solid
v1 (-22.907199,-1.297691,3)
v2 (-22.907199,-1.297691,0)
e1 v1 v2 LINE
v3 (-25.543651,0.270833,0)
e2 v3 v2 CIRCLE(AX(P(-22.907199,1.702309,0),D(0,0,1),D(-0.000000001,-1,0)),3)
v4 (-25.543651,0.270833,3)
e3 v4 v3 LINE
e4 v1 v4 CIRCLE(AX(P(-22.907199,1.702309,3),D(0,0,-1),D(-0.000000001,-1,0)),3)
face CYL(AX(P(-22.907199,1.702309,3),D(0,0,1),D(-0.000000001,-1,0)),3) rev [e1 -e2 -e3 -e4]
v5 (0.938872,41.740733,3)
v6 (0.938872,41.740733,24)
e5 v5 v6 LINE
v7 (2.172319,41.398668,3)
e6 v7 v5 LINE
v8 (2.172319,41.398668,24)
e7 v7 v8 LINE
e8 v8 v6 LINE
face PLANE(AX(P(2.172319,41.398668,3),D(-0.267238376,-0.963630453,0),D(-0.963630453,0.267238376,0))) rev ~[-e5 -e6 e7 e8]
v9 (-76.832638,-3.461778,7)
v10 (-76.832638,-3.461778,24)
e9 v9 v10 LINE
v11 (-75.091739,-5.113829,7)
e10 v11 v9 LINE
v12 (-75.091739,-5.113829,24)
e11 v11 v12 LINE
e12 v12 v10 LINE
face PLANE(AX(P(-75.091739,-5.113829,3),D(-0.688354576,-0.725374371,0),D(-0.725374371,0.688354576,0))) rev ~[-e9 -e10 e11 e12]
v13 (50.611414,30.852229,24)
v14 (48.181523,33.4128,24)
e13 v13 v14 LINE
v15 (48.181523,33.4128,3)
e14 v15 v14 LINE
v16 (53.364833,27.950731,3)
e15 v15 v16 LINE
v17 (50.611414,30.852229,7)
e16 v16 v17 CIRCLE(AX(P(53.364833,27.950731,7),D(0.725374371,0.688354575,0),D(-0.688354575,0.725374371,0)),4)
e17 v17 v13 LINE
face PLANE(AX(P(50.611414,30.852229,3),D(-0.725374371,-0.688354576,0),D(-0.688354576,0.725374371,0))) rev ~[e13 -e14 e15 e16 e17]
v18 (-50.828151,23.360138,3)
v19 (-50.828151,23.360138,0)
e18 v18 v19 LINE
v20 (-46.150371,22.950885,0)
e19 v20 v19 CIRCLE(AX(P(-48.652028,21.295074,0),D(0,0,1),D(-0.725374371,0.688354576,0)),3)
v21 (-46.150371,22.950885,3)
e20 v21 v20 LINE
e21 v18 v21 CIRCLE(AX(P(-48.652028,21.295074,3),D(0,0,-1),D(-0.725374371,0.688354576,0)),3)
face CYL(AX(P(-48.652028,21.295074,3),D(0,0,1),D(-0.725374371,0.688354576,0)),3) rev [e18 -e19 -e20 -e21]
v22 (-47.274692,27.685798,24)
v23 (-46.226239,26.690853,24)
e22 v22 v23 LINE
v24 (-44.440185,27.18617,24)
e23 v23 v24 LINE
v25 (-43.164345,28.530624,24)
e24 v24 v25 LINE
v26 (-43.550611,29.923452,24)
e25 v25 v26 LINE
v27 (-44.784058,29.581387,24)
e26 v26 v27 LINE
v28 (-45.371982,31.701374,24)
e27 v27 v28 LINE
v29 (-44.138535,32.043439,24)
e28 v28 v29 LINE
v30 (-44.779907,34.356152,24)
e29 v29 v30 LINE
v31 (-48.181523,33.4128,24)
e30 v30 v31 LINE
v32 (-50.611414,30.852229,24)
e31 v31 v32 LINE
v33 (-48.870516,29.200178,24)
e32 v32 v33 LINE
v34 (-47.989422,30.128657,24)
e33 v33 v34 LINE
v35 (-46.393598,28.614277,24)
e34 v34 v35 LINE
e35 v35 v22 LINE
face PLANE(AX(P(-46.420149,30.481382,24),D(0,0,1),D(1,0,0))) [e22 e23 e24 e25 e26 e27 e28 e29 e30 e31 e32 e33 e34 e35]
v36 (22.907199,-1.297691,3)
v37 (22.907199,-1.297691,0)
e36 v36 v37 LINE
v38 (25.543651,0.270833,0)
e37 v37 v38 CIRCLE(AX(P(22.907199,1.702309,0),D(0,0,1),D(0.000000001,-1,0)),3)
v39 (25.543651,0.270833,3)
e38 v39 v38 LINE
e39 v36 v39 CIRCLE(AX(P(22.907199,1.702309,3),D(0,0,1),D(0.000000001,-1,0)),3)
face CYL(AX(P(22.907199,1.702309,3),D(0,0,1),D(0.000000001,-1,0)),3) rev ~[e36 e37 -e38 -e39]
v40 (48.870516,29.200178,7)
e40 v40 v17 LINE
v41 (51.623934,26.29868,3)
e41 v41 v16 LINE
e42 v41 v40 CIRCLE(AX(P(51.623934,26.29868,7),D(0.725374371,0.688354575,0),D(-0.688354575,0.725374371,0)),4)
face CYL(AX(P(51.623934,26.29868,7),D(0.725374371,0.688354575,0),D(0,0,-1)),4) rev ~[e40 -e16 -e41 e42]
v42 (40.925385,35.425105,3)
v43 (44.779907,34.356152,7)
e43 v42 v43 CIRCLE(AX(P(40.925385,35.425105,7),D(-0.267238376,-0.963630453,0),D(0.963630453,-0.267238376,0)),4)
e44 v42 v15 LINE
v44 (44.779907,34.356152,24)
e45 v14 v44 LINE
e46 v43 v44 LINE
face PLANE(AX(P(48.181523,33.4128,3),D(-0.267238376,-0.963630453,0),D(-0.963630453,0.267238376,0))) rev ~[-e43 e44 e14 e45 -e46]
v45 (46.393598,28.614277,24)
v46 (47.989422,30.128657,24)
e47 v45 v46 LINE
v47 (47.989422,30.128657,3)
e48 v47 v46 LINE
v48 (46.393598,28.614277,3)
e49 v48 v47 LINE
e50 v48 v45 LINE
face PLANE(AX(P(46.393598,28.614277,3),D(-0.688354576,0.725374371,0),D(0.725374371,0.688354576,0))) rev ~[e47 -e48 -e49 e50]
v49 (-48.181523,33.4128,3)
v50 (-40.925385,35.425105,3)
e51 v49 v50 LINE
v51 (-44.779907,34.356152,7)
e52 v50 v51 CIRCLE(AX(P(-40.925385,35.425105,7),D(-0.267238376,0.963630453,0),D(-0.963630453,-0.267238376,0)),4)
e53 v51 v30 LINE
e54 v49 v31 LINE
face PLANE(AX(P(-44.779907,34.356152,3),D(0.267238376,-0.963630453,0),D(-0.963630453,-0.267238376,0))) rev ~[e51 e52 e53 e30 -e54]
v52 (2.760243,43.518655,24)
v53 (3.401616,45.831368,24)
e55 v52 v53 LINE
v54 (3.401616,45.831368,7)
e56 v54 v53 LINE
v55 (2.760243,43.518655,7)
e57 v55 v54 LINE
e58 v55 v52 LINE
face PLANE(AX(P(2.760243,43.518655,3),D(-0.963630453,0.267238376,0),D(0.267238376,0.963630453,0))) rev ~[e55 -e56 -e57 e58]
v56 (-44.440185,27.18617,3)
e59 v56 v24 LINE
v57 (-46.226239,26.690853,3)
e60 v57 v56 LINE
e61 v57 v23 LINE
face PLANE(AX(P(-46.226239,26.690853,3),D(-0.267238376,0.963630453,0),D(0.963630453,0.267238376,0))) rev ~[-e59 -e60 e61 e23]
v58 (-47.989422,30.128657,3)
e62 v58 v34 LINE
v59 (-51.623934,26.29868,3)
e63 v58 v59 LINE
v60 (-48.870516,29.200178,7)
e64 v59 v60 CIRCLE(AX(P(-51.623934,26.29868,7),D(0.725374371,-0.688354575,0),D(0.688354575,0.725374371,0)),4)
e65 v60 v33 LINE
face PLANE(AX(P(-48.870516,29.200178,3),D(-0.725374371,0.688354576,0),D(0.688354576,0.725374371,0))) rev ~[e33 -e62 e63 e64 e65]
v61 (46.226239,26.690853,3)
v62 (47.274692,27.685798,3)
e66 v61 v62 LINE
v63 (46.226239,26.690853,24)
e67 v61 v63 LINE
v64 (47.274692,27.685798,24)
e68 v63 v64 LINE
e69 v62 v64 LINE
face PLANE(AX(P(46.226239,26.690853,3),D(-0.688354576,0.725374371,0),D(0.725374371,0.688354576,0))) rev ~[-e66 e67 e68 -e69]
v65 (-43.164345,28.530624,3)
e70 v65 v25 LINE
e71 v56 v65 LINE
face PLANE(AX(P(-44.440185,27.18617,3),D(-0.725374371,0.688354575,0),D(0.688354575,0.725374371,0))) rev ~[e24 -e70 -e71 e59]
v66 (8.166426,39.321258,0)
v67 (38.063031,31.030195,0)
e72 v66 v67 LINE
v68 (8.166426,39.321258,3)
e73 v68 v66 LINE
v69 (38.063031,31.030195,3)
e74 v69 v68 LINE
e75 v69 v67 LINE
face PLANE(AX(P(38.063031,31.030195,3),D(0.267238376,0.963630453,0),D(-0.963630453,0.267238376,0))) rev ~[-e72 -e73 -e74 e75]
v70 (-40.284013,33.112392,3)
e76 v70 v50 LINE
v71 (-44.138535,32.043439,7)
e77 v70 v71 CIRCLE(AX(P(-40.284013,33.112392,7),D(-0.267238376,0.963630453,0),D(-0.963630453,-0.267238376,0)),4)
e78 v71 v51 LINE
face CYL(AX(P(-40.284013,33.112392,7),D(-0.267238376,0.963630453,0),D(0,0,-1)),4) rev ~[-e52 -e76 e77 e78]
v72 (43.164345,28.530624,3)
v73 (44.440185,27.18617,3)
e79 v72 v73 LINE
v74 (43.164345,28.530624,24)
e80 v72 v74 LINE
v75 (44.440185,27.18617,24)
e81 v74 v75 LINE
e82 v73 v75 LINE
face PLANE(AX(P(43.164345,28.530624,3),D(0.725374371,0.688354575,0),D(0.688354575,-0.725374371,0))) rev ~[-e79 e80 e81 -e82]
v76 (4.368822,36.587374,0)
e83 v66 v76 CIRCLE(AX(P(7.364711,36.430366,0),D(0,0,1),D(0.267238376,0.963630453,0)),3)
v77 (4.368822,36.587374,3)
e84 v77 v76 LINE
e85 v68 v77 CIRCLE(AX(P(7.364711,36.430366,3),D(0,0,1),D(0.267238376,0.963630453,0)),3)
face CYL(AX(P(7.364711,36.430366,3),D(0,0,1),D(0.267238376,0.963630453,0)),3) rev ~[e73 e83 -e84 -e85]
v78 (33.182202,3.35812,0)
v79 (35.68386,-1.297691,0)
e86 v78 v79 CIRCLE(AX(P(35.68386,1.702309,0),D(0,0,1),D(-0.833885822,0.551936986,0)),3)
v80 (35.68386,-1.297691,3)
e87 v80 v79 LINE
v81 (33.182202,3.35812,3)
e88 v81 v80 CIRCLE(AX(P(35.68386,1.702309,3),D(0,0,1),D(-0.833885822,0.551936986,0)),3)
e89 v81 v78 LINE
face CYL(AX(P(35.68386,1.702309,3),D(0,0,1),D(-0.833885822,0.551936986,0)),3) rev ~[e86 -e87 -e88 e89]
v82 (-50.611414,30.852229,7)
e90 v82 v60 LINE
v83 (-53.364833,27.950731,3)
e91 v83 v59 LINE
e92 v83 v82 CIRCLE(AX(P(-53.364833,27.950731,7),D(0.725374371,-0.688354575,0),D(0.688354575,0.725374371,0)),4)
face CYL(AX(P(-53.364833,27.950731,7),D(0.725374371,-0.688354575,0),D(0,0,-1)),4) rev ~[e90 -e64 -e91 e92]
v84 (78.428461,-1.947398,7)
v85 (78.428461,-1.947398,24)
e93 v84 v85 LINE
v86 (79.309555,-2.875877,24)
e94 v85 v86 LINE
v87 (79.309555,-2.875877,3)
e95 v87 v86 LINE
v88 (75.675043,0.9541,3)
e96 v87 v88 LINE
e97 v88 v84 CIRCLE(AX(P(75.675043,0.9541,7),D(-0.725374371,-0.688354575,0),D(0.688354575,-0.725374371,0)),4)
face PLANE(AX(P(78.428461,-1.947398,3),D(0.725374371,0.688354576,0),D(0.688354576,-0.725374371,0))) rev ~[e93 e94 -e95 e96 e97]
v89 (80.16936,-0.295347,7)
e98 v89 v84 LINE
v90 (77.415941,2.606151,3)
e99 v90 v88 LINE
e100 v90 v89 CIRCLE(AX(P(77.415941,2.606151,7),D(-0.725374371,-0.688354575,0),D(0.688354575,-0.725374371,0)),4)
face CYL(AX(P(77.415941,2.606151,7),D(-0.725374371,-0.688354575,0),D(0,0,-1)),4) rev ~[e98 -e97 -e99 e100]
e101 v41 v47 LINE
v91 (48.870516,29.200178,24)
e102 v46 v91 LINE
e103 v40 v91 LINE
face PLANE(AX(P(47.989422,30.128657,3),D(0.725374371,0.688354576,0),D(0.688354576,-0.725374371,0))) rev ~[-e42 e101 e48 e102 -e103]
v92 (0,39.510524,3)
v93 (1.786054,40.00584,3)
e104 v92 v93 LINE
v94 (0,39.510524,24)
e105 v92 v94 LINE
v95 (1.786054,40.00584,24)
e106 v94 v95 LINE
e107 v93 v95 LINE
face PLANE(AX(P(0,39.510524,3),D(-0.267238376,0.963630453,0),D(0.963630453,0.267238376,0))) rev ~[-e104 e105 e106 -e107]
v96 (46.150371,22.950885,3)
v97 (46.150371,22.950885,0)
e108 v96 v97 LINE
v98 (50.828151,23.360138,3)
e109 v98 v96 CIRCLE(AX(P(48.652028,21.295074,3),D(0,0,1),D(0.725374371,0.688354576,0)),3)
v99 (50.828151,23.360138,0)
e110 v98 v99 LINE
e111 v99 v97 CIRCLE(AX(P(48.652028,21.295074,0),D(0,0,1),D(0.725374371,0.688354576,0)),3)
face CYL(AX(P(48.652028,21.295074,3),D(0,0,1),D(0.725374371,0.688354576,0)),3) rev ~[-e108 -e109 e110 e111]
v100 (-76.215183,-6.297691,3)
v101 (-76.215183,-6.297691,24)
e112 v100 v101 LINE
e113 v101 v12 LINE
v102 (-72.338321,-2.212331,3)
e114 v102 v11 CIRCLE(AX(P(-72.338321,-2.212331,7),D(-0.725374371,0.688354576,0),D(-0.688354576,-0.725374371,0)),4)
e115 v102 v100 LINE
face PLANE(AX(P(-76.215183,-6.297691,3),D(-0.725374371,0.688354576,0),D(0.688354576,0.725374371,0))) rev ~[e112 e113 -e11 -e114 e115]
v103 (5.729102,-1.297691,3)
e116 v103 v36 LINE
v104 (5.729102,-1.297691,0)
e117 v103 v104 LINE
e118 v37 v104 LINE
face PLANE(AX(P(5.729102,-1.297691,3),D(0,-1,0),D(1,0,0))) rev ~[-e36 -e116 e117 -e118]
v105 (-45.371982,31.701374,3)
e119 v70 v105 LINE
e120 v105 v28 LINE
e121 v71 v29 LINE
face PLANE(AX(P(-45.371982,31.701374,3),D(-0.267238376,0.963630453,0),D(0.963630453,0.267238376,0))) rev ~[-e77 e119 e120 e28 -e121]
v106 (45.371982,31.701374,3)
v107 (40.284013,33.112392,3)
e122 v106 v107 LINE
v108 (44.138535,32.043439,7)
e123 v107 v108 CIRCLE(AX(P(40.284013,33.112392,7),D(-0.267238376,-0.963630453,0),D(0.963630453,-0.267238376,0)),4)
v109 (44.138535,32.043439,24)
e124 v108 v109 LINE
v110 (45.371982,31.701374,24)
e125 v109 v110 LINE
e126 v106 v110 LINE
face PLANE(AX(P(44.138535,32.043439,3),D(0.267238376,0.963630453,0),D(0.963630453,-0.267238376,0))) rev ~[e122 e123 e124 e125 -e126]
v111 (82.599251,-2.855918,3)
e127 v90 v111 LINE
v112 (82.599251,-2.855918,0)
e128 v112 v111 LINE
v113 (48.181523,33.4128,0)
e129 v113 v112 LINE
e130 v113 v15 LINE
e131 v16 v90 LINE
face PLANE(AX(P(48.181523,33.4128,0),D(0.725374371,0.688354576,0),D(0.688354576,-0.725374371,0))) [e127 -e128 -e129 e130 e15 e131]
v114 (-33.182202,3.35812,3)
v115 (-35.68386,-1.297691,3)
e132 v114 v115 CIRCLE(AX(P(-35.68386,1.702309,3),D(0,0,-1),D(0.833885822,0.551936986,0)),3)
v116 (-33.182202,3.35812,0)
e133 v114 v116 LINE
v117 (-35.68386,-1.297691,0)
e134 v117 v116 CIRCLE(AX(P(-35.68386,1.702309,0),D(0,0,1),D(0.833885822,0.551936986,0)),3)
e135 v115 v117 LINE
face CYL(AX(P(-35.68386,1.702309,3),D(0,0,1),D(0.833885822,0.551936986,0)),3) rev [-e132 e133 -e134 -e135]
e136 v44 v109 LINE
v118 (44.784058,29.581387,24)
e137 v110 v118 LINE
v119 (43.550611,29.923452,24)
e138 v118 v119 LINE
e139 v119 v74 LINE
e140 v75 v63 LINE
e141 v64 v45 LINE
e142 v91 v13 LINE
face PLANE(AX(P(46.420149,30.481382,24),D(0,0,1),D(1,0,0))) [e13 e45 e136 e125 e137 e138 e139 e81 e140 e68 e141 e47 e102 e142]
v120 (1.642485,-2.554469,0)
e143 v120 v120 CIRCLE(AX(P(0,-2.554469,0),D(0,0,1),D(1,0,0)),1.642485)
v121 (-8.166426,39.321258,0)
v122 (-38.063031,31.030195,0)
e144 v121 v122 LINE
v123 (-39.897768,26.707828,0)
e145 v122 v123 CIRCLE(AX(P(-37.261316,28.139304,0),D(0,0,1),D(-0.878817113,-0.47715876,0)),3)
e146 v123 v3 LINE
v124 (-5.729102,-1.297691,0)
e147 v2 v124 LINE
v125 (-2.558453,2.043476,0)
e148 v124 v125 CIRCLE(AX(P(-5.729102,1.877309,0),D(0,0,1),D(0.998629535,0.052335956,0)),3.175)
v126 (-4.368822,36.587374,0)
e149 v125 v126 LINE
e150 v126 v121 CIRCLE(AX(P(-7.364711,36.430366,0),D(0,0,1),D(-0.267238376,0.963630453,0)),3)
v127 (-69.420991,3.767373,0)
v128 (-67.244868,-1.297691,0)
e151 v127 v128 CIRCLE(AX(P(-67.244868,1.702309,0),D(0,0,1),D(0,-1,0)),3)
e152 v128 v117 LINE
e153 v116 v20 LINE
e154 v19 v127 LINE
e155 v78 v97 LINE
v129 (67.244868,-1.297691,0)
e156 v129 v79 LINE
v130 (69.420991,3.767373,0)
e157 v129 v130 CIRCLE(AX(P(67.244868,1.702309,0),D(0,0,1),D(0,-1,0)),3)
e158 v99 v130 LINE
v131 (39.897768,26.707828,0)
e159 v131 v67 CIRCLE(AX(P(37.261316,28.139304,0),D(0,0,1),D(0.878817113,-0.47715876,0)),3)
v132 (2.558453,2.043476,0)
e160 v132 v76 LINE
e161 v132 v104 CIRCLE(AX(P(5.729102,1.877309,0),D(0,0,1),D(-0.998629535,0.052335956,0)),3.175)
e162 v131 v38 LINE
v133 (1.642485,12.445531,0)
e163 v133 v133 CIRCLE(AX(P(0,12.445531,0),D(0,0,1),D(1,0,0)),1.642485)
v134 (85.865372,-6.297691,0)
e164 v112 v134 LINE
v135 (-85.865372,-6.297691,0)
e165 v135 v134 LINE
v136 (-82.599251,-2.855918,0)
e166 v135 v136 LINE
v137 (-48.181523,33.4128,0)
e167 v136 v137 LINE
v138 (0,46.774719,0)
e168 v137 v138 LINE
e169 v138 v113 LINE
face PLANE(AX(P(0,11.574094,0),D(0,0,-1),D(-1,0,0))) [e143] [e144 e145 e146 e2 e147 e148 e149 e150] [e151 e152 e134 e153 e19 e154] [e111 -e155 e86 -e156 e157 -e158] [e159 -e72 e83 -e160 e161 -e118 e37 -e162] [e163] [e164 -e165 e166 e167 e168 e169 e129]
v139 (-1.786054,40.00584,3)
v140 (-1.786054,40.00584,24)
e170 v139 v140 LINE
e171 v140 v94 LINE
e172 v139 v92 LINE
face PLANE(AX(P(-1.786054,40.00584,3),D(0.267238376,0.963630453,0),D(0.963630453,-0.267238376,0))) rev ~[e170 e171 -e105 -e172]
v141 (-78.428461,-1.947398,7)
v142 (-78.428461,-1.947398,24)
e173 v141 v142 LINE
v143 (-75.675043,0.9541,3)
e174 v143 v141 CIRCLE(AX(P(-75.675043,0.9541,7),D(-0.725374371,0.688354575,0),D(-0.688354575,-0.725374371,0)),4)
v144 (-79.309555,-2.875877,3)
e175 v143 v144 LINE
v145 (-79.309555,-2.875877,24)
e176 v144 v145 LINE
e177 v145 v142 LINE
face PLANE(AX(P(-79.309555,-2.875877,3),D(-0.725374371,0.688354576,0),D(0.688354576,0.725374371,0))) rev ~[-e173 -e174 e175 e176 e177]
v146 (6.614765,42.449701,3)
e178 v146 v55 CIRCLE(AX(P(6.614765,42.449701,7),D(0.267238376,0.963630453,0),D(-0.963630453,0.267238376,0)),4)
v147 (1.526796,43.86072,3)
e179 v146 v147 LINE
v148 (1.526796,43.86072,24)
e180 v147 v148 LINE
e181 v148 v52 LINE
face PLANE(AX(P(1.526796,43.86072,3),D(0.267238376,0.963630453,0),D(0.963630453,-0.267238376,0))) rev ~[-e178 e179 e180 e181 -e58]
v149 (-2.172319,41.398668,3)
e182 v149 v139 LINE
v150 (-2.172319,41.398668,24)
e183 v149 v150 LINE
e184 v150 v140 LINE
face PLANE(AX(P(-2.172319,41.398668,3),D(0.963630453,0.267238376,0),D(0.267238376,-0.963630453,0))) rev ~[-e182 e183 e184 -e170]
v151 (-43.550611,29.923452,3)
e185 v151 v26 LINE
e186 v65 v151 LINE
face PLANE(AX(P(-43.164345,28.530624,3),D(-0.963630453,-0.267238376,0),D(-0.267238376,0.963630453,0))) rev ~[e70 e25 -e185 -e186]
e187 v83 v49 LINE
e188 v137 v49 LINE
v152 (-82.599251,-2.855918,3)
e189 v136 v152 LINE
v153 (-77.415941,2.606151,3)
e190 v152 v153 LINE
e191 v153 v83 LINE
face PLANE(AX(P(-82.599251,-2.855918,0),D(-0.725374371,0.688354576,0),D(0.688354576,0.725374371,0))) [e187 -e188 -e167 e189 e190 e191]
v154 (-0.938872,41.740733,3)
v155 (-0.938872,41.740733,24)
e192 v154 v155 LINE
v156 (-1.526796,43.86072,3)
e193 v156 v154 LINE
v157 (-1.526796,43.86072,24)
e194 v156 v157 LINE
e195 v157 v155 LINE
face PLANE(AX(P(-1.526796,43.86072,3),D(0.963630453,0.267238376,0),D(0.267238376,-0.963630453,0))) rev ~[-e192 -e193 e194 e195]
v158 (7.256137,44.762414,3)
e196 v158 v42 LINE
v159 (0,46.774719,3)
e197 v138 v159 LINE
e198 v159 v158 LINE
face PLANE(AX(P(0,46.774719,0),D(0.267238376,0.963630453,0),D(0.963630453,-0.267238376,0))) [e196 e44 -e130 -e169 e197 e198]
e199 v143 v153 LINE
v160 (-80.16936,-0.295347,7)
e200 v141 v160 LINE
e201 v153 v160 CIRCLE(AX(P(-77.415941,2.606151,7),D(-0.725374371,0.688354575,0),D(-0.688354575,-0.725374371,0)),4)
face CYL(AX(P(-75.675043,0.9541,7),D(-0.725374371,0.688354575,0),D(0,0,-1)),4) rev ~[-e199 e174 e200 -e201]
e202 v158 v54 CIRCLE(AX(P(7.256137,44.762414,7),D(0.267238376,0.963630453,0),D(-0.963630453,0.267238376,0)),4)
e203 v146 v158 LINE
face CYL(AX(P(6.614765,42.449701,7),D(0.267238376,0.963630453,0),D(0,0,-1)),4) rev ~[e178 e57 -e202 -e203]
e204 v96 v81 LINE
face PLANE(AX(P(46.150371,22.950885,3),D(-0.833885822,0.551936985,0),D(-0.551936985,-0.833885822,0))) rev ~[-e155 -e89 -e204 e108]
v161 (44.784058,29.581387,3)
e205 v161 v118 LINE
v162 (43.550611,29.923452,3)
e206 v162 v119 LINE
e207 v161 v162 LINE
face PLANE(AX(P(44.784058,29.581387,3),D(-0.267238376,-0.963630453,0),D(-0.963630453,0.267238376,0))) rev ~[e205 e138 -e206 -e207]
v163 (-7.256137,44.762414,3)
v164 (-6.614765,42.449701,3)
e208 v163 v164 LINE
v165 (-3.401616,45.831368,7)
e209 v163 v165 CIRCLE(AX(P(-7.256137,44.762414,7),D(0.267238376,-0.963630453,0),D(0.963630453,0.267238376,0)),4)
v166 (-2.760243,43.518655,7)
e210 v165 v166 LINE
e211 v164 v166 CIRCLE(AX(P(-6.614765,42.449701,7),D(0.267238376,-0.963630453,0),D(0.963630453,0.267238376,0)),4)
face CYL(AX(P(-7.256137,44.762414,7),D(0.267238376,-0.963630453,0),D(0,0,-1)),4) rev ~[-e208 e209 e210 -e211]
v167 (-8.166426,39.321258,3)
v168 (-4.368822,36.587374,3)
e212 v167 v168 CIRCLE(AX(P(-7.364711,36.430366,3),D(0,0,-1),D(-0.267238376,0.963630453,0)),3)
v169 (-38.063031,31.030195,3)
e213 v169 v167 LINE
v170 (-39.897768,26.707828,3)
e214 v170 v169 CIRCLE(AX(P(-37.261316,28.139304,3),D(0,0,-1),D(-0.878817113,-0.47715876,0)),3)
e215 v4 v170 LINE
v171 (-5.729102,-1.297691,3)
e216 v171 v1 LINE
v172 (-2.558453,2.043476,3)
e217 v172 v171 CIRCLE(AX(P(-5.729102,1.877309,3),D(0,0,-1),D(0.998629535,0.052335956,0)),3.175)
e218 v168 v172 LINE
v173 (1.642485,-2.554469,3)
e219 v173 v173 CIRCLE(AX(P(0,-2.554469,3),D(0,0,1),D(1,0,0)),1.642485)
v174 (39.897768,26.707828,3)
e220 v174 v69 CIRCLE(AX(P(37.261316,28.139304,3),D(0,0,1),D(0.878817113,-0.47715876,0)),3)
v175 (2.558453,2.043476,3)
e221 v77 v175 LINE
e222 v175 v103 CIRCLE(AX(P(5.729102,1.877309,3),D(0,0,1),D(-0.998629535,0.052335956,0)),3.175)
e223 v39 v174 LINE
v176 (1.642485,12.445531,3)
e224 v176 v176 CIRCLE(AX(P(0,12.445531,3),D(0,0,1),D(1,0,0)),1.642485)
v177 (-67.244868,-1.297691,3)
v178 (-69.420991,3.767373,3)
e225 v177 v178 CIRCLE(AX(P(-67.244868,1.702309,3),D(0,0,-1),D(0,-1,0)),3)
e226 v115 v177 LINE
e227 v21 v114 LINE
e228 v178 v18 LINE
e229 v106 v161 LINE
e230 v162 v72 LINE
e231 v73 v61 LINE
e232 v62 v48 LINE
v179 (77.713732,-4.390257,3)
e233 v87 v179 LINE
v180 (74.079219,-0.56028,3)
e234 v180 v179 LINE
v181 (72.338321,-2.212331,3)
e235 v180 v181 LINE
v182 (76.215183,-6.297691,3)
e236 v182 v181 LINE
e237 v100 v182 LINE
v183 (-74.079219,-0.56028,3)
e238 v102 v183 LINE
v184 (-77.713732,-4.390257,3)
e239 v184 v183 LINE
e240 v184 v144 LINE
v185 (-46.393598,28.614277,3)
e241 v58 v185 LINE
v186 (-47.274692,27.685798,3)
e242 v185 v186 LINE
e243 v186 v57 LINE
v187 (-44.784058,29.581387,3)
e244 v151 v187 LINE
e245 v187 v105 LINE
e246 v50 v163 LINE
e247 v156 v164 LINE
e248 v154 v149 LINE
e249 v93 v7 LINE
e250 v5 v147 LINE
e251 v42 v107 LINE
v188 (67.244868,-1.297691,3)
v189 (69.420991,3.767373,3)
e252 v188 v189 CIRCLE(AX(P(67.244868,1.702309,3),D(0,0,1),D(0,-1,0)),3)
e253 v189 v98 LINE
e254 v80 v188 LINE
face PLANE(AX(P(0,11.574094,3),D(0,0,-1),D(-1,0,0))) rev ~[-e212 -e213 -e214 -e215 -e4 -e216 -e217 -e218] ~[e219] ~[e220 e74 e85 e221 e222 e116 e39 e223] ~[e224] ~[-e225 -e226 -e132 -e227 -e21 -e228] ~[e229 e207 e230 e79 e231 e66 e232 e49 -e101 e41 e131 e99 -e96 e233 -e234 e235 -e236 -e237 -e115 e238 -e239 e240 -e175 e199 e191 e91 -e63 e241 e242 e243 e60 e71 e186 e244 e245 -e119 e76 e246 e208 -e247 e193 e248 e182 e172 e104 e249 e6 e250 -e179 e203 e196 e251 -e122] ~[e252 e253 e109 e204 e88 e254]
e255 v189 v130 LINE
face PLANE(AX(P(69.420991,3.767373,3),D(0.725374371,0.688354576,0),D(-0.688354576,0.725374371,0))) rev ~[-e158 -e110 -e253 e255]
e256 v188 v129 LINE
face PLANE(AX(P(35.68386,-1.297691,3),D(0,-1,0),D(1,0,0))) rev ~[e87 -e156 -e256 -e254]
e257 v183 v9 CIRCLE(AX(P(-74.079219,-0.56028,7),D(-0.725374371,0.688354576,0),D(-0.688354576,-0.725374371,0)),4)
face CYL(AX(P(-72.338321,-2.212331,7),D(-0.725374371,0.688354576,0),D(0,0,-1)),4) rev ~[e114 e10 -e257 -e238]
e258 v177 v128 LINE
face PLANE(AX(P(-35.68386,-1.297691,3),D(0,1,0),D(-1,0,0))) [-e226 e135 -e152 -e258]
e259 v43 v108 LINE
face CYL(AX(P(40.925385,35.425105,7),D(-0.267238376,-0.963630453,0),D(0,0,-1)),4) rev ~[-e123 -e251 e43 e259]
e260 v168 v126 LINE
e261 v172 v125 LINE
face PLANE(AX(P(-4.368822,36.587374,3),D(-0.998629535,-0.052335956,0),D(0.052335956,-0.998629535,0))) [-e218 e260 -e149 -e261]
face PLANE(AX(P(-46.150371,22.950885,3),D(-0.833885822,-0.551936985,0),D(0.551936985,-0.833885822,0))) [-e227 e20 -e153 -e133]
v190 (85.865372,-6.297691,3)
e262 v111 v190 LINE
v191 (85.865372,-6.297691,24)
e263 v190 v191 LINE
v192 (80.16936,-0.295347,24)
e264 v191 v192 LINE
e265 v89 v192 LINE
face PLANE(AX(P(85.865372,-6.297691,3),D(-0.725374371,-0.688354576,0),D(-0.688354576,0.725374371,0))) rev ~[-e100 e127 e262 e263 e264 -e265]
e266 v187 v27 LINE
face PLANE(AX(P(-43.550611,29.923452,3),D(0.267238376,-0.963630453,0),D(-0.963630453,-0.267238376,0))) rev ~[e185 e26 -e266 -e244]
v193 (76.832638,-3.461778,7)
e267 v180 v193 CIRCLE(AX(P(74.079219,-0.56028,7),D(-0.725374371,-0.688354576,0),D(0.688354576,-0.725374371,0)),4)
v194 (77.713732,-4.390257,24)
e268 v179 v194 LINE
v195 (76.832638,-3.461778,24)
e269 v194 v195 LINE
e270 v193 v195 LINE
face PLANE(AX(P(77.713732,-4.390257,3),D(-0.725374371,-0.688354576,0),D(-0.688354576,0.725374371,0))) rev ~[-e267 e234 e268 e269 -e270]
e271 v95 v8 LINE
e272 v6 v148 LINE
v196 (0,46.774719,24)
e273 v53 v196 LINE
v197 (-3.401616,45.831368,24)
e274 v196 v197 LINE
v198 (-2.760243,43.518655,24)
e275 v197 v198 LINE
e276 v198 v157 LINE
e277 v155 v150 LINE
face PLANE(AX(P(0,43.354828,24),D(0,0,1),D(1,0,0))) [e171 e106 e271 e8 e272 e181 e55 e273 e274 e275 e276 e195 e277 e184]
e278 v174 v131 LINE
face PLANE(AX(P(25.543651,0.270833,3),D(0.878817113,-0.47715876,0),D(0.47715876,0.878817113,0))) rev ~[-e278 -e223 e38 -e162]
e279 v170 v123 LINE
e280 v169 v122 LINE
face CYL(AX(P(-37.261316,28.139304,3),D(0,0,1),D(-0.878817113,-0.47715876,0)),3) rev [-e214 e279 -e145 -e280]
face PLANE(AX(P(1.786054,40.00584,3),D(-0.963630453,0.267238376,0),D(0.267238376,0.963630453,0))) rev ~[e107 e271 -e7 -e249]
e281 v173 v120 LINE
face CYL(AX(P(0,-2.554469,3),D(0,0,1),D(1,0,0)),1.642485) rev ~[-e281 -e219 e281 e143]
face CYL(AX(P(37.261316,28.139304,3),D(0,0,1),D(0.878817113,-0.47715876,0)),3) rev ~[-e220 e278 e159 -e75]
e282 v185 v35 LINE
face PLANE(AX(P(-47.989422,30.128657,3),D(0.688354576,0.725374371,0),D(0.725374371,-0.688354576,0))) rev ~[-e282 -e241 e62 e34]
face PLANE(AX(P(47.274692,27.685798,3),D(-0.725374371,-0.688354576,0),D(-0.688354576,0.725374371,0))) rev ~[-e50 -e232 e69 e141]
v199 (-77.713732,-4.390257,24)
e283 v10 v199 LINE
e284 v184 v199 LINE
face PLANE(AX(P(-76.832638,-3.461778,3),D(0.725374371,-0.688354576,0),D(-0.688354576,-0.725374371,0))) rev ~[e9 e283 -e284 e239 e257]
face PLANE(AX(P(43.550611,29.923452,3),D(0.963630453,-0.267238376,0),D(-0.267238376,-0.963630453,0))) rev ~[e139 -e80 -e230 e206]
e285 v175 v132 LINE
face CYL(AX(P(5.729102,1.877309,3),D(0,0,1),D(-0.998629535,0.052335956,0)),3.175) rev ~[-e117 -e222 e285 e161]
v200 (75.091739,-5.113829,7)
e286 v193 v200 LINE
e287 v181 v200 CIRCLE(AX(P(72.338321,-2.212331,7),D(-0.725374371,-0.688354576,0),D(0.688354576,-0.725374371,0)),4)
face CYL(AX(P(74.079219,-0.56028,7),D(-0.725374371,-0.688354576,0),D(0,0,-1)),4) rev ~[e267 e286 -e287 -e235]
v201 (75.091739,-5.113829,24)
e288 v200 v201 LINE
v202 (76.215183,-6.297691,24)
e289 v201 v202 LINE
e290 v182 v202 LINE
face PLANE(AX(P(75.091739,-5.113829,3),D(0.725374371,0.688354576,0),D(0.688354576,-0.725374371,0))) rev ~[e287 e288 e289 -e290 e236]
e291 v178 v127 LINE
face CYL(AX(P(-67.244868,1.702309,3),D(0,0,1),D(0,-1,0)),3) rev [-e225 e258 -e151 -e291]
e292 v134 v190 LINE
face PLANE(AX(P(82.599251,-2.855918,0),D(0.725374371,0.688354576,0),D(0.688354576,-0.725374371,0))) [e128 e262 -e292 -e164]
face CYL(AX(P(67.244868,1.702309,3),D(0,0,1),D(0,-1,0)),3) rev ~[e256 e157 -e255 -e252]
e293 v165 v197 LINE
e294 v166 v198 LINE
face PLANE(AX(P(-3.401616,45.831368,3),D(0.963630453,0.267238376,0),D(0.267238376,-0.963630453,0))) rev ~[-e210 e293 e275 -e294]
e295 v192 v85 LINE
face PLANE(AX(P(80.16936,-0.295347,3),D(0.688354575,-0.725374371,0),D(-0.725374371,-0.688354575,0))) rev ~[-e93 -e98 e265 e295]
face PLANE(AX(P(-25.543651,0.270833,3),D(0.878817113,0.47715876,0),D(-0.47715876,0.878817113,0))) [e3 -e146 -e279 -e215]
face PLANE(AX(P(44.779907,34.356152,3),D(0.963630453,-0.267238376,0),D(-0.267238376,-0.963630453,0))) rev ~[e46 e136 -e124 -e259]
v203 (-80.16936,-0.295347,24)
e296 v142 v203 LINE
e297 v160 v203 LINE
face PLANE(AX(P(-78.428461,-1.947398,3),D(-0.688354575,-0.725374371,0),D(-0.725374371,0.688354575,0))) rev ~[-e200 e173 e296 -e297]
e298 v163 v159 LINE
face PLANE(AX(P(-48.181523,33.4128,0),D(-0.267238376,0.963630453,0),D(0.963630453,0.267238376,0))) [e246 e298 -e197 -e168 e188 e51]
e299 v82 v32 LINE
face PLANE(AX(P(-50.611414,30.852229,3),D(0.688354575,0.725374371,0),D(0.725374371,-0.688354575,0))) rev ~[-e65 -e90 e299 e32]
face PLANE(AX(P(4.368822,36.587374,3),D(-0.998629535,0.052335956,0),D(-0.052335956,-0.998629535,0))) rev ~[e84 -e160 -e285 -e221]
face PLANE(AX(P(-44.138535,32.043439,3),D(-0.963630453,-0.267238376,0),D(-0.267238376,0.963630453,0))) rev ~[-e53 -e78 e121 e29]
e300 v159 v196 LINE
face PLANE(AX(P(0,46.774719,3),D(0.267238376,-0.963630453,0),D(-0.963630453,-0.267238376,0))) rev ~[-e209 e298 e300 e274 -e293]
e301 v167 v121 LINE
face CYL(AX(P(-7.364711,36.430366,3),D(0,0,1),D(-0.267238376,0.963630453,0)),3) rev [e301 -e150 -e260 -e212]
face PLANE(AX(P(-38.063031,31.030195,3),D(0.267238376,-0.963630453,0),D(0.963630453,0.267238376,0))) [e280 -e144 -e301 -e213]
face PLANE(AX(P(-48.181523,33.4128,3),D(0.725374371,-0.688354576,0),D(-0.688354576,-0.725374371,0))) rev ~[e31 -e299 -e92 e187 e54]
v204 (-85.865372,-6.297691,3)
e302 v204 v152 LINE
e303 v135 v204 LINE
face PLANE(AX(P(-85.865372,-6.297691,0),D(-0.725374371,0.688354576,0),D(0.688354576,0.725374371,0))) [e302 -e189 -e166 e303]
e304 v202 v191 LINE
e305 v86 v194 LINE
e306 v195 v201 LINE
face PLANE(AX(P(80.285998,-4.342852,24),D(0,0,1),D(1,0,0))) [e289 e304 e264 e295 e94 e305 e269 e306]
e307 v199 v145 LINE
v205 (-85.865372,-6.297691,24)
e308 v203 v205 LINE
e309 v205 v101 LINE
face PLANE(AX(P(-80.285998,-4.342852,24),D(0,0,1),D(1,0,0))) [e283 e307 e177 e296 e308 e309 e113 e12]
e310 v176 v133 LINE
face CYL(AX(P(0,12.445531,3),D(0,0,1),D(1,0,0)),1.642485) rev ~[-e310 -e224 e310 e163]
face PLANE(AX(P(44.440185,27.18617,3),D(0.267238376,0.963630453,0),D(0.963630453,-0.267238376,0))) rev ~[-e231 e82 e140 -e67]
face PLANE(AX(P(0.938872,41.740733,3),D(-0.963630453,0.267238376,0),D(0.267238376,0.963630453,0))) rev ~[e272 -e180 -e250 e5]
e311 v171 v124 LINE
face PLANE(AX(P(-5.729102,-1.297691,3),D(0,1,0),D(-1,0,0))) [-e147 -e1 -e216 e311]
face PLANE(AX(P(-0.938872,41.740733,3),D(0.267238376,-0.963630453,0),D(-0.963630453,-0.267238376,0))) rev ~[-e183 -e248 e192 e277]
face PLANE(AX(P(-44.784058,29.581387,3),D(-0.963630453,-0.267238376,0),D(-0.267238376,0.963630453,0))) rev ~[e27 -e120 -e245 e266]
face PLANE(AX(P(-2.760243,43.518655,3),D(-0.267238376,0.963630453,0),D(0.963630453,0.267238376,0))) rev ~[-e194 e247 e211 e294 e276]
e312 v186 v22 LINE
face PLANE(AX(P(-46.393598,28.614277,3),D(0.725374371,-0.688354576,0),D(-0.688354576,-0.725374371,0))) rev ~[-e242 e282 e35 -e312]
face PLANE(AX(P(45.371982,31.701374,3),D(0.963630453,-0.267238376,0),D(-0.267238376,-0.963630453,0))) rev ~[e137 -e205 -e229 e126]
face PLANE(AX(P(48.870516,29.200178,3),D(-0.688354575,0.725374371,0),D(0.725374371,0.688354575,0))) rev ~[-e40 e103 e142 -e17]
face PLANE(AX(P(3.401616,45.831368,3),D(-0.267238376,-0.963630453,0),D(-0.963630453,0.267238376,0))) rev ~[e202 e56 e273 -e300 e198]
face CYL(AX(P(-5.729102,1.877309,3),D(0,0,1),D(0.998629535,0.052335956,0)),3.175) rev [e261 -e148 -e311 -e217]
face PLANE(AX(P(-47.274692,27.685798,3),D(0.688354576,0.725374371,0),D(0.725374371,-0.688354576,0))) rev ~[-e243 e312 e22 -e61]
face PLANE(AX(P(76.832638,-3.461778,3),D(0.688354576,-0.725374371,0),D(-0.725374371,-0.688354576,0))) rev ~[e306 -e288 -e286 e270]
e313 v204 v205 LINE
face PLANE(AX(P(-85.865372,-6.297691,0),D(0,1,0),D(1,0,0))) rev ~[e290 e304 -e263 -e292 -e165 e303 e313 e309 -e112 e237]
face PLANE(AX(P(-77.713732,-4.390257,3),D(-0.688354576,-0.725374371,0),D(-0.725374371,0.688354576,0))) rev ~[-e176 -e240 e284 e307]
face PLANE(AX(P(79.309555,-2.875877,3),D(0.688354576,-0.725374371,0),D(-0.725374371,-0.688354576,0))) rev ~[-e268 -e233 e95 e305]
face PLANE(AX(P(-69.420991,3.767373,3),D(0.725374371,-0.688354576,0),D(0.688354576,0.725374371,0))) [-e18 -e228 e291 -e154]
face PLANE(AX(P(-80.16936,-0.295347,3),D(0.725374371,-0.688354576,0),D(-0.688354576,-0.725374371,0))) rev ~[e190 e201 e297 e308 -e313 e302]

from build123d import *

# Parameters (mm, degrees)
BOSS_EXTRUDE1_DEPTH = 3
BOSS_EXTRUDE2_DEPTH = 21
SKETCH3_R           = 1.642484664
CUT_EXTRUDE1_DEPTH  = 101.008681907
FILLET3_R           = 4
FILLET4_R           = 4


with BuildPart() as part:
    # Sketch1 → Boss-Extrude1 (new body)
    with BuildSketch(Plane.XY):
        Polygon((0, 46.774719198), (48.18152266, 33.412800394), (82.599251445, -2.855918156), (85.865371953, -6.297691035), (78.97237959, -6.297691035), (-78.97237959, -6.297691035), (-85.865371953, -6.297691035), (-82.599251445, -2.855918156), (-48.18152266, 33.412800394), align=None)
    extrude(amount=BOSS_EXTRUDE1_DEPTH)

    # Sketch2 → Boss-Extrude2 (add)
    with BuildSketch(Plane.XY.offset(3)):
        Polygon((-44.779907161, 34.356151862), (-48.18152266, 33.412800394), (-50.611414313, 30.852228864), (-48.870515822, 29.200177883), (-47.989421965, 30.128657078), (-46.393598349, 28.614277011), (-47.274692206, 27.685797816), (-46.22623914, 26.690853007), (-44.440185395, 27.186169547), (-43.164345406, 28.530624372), (-43.550610631, 29.923451777), (-44.784057611, 29.581386656), (-45.371982038, 31.701373653), (-44.138535058, 32.043438774), align=None)
        Polygon((0, 46.774719198), (-3.4016155, 45.83136773), (-2.760243397, 43.518654643), (-1.526796417, 43.860719764), (-0.93887199, 41.740732767), (-2.17231897, 41.398667646), (-1.786053745, 40.00584024), (0, 39.5105237), (1.786053745, 40.00584024), (2.17231897, 41.398667646), (0.93887199, 41.740732767), (1.526796417, 43.860719764), (2.760243397, 43.518654643), (3.4016155, 45.83136773), align=None)
        Polygon((-78.428461302, -1.947397608), (-80.169359793, -0.295346627), (-85.865371953, -6.297691035), (-76.215182645, -6.297691035), (-75.091739196, -5.113828657), (-76.832637686, -3.461777675), (-77.713731543, -4.39025687), (-79.309555159, -2.875876803), align=None)
        Polygon((48.18152266, 33.412800394), (44.779907161, 34.356151862), (44.138535058, 32.043438774), (45.371982038, 31.701373653), (44.784057611, 29.581386656), (43.550610631, 29.923451777), (43.164345406, 28.530624372), (44.440185395, 27.186169547), (46.22623914, 26.690853007), (47.274692206, 27.685797816), (46.393598349, 28.614277011), (47.989421965, 30.128657078), (48.870515822, 29.200177883), (50.611414313, 30.852228864), align=None)
        Polygon((75.091739196, -5.113828657), (76.215182645, -6.297691035), (85.865371953, -6.297691035), (80.169359793, -0.295346627), (78.428461302, -1.947397608), (79.309555159, -2.875876803), (77.713731543, -4.39025687), (76.832637686, -3.461777675), align=None)
    extrude(amount=BOSS_EXTRUDE2_DEPTH)

    # Sketch3 → Cut-Extrude1 (cut, through all)
    with BuildSketch(Plane.XY.offset(3)):
        with Locations((0, -2.554468846)):
            Circle(SKETCH3_R)
        with Locations((0, 12.445531154)):
            Circle(SKETCH3_R)
        with BuildLine():
            Line((-69.420990751, 3.767372692), (-50.828151114, 23.360137575))
            ThreePointArc((-50.828151114, 23.360137575), (-48.390560772, 24.283657942), (-46.150370534, 22.950884804))
            Line((-46.150370534, 22.950884804), (-33.182202355, 3.358119921))
            ThreePointArc((-33.182202355, 3.358119921), (-33.041187606, 0.282349963), (-35.683859821, -1.297691035))
            Line((-35.683859821, -1.297691035), (-67.244867638, -1.297691035))
            ThreePointArc((-67.244867638, -1.297691035), (-70.001241269, 0.518077396), (-69.420990751, 3.767372692))
        make_face()
        with BuildLine():
            Line((-25.543650537, 0.270832684), (-39.897767636, 26.707827652))
            ThreePointArc((-39.897767636, 26.707827652), (-40.022830858, 29.311497318), (-38.063031426, 31.030195292))
            Line((-38.063031426, 31.030195292), (-8.166425929, 39.321257781))
            ThreePointArc((-8.166425929, 39.321257781), (-5.611961803, 38.865088367), (-4.368822196, 36.58737429))
            Line((-4.368822196, 36.58737429), (-2.558453179, 2.043475626))
            ThreePointArc((-2.558453179, 2.043475626), (-3.426038324, -0.308216813), (-5.729101952, -1.297691035))
            Line((-5.729101952, -1.297691035), (-22.907199199, -1.297691035))
            ThreePointArc((-22.907199199, -1.297691035), (-24.441078457, -0.875910269), (-25.543650537, 0.270832684))
        make_face()
        with BuildLine():
            Line((5.729101952, -1.297691035), (22.907199199, -1.297691035))
            ThreePointArc((22.907199199, -1.297691035), (24.441078457, -0.875910269), (25.543650537, 0.270832684))
            Line((25.543650537, 0.270832684), (39.897767636, 26.707827652))
            ThreePointArc((39.897767636, 26.707827652), (40.022830858, 29.311497318), (38.063031426, 31.030195292))
            Line((38.063031426, 31.030195292), (8.166425929, 39.321257781))
            ThreePointArc((8.166425929, 39.321257781), (5.611961803, 38.865088367), (4.368822196, 36.58737429))
            Line((4.368822196, 36.58737429), (2.558453179, 2.043475626))
            ThreePointArc((2.558453179, 2.043475626), (3.426038324, -0.308216813), (5.729101952, -1.297691035))
        make_face()
        with BuildLine():
            Line((35.683859821, -1.297691035), (67.244867638, -1.297691035))
            ThreePointArc((67.244867638, -1.297691035), (70.001241269, 0.518077396), (69.420990751, 3.767372692))
            Line((69.420990751, 3.767372692), (50.828151114, 23.360137575))
            ThreePointArc((50.828151114, 23.360137575), (48.390560772, 24.283657942), (46.150370534, 22.950884804))
            Line((46.150370534, 22.950884804), (33.182202355, 3.358119921))
            ThreePointArc((33.182202355, 3.358119921), (33.041187606, 0.282349963), (35.683859821, -1.297691035))
        make_face()
    extrude(amount=-CUT_EXTRUDE1_DEPTH, mode=Mode.SUBTRACT)

    # Fillet3
    fillet3_edges = [part.edges().sort_by_distance(p)[0] for p in [
        (-79.298910548, -1.121372118, 3),
    ]]
    fillet(fillet3_edges, radius=FILLET3_R)

    # Fillet4
    fillet4_edges = [part.edges().sort_by_distance(p)[0] for p in [
        (79.298910548, -1.121372118, 3),
        (49.740965067, 30.026203374, 3),
        (44.459221109, 33.199795318, 3),
        (3.080929449, 44.675011187, 3),
        (-3.080929449, 44.675011187, 3),
        (-44.459221109, 33.199795318, 3),
        (-75.962188441, -4.287803166, 3),
        (-49.740965067, 30.026203374, 3),
        (75.962188441, -4.287803166, 3),
    ]]
    fillet(fillet4_edges, radius=FILLET4_R)


solid = part.part
